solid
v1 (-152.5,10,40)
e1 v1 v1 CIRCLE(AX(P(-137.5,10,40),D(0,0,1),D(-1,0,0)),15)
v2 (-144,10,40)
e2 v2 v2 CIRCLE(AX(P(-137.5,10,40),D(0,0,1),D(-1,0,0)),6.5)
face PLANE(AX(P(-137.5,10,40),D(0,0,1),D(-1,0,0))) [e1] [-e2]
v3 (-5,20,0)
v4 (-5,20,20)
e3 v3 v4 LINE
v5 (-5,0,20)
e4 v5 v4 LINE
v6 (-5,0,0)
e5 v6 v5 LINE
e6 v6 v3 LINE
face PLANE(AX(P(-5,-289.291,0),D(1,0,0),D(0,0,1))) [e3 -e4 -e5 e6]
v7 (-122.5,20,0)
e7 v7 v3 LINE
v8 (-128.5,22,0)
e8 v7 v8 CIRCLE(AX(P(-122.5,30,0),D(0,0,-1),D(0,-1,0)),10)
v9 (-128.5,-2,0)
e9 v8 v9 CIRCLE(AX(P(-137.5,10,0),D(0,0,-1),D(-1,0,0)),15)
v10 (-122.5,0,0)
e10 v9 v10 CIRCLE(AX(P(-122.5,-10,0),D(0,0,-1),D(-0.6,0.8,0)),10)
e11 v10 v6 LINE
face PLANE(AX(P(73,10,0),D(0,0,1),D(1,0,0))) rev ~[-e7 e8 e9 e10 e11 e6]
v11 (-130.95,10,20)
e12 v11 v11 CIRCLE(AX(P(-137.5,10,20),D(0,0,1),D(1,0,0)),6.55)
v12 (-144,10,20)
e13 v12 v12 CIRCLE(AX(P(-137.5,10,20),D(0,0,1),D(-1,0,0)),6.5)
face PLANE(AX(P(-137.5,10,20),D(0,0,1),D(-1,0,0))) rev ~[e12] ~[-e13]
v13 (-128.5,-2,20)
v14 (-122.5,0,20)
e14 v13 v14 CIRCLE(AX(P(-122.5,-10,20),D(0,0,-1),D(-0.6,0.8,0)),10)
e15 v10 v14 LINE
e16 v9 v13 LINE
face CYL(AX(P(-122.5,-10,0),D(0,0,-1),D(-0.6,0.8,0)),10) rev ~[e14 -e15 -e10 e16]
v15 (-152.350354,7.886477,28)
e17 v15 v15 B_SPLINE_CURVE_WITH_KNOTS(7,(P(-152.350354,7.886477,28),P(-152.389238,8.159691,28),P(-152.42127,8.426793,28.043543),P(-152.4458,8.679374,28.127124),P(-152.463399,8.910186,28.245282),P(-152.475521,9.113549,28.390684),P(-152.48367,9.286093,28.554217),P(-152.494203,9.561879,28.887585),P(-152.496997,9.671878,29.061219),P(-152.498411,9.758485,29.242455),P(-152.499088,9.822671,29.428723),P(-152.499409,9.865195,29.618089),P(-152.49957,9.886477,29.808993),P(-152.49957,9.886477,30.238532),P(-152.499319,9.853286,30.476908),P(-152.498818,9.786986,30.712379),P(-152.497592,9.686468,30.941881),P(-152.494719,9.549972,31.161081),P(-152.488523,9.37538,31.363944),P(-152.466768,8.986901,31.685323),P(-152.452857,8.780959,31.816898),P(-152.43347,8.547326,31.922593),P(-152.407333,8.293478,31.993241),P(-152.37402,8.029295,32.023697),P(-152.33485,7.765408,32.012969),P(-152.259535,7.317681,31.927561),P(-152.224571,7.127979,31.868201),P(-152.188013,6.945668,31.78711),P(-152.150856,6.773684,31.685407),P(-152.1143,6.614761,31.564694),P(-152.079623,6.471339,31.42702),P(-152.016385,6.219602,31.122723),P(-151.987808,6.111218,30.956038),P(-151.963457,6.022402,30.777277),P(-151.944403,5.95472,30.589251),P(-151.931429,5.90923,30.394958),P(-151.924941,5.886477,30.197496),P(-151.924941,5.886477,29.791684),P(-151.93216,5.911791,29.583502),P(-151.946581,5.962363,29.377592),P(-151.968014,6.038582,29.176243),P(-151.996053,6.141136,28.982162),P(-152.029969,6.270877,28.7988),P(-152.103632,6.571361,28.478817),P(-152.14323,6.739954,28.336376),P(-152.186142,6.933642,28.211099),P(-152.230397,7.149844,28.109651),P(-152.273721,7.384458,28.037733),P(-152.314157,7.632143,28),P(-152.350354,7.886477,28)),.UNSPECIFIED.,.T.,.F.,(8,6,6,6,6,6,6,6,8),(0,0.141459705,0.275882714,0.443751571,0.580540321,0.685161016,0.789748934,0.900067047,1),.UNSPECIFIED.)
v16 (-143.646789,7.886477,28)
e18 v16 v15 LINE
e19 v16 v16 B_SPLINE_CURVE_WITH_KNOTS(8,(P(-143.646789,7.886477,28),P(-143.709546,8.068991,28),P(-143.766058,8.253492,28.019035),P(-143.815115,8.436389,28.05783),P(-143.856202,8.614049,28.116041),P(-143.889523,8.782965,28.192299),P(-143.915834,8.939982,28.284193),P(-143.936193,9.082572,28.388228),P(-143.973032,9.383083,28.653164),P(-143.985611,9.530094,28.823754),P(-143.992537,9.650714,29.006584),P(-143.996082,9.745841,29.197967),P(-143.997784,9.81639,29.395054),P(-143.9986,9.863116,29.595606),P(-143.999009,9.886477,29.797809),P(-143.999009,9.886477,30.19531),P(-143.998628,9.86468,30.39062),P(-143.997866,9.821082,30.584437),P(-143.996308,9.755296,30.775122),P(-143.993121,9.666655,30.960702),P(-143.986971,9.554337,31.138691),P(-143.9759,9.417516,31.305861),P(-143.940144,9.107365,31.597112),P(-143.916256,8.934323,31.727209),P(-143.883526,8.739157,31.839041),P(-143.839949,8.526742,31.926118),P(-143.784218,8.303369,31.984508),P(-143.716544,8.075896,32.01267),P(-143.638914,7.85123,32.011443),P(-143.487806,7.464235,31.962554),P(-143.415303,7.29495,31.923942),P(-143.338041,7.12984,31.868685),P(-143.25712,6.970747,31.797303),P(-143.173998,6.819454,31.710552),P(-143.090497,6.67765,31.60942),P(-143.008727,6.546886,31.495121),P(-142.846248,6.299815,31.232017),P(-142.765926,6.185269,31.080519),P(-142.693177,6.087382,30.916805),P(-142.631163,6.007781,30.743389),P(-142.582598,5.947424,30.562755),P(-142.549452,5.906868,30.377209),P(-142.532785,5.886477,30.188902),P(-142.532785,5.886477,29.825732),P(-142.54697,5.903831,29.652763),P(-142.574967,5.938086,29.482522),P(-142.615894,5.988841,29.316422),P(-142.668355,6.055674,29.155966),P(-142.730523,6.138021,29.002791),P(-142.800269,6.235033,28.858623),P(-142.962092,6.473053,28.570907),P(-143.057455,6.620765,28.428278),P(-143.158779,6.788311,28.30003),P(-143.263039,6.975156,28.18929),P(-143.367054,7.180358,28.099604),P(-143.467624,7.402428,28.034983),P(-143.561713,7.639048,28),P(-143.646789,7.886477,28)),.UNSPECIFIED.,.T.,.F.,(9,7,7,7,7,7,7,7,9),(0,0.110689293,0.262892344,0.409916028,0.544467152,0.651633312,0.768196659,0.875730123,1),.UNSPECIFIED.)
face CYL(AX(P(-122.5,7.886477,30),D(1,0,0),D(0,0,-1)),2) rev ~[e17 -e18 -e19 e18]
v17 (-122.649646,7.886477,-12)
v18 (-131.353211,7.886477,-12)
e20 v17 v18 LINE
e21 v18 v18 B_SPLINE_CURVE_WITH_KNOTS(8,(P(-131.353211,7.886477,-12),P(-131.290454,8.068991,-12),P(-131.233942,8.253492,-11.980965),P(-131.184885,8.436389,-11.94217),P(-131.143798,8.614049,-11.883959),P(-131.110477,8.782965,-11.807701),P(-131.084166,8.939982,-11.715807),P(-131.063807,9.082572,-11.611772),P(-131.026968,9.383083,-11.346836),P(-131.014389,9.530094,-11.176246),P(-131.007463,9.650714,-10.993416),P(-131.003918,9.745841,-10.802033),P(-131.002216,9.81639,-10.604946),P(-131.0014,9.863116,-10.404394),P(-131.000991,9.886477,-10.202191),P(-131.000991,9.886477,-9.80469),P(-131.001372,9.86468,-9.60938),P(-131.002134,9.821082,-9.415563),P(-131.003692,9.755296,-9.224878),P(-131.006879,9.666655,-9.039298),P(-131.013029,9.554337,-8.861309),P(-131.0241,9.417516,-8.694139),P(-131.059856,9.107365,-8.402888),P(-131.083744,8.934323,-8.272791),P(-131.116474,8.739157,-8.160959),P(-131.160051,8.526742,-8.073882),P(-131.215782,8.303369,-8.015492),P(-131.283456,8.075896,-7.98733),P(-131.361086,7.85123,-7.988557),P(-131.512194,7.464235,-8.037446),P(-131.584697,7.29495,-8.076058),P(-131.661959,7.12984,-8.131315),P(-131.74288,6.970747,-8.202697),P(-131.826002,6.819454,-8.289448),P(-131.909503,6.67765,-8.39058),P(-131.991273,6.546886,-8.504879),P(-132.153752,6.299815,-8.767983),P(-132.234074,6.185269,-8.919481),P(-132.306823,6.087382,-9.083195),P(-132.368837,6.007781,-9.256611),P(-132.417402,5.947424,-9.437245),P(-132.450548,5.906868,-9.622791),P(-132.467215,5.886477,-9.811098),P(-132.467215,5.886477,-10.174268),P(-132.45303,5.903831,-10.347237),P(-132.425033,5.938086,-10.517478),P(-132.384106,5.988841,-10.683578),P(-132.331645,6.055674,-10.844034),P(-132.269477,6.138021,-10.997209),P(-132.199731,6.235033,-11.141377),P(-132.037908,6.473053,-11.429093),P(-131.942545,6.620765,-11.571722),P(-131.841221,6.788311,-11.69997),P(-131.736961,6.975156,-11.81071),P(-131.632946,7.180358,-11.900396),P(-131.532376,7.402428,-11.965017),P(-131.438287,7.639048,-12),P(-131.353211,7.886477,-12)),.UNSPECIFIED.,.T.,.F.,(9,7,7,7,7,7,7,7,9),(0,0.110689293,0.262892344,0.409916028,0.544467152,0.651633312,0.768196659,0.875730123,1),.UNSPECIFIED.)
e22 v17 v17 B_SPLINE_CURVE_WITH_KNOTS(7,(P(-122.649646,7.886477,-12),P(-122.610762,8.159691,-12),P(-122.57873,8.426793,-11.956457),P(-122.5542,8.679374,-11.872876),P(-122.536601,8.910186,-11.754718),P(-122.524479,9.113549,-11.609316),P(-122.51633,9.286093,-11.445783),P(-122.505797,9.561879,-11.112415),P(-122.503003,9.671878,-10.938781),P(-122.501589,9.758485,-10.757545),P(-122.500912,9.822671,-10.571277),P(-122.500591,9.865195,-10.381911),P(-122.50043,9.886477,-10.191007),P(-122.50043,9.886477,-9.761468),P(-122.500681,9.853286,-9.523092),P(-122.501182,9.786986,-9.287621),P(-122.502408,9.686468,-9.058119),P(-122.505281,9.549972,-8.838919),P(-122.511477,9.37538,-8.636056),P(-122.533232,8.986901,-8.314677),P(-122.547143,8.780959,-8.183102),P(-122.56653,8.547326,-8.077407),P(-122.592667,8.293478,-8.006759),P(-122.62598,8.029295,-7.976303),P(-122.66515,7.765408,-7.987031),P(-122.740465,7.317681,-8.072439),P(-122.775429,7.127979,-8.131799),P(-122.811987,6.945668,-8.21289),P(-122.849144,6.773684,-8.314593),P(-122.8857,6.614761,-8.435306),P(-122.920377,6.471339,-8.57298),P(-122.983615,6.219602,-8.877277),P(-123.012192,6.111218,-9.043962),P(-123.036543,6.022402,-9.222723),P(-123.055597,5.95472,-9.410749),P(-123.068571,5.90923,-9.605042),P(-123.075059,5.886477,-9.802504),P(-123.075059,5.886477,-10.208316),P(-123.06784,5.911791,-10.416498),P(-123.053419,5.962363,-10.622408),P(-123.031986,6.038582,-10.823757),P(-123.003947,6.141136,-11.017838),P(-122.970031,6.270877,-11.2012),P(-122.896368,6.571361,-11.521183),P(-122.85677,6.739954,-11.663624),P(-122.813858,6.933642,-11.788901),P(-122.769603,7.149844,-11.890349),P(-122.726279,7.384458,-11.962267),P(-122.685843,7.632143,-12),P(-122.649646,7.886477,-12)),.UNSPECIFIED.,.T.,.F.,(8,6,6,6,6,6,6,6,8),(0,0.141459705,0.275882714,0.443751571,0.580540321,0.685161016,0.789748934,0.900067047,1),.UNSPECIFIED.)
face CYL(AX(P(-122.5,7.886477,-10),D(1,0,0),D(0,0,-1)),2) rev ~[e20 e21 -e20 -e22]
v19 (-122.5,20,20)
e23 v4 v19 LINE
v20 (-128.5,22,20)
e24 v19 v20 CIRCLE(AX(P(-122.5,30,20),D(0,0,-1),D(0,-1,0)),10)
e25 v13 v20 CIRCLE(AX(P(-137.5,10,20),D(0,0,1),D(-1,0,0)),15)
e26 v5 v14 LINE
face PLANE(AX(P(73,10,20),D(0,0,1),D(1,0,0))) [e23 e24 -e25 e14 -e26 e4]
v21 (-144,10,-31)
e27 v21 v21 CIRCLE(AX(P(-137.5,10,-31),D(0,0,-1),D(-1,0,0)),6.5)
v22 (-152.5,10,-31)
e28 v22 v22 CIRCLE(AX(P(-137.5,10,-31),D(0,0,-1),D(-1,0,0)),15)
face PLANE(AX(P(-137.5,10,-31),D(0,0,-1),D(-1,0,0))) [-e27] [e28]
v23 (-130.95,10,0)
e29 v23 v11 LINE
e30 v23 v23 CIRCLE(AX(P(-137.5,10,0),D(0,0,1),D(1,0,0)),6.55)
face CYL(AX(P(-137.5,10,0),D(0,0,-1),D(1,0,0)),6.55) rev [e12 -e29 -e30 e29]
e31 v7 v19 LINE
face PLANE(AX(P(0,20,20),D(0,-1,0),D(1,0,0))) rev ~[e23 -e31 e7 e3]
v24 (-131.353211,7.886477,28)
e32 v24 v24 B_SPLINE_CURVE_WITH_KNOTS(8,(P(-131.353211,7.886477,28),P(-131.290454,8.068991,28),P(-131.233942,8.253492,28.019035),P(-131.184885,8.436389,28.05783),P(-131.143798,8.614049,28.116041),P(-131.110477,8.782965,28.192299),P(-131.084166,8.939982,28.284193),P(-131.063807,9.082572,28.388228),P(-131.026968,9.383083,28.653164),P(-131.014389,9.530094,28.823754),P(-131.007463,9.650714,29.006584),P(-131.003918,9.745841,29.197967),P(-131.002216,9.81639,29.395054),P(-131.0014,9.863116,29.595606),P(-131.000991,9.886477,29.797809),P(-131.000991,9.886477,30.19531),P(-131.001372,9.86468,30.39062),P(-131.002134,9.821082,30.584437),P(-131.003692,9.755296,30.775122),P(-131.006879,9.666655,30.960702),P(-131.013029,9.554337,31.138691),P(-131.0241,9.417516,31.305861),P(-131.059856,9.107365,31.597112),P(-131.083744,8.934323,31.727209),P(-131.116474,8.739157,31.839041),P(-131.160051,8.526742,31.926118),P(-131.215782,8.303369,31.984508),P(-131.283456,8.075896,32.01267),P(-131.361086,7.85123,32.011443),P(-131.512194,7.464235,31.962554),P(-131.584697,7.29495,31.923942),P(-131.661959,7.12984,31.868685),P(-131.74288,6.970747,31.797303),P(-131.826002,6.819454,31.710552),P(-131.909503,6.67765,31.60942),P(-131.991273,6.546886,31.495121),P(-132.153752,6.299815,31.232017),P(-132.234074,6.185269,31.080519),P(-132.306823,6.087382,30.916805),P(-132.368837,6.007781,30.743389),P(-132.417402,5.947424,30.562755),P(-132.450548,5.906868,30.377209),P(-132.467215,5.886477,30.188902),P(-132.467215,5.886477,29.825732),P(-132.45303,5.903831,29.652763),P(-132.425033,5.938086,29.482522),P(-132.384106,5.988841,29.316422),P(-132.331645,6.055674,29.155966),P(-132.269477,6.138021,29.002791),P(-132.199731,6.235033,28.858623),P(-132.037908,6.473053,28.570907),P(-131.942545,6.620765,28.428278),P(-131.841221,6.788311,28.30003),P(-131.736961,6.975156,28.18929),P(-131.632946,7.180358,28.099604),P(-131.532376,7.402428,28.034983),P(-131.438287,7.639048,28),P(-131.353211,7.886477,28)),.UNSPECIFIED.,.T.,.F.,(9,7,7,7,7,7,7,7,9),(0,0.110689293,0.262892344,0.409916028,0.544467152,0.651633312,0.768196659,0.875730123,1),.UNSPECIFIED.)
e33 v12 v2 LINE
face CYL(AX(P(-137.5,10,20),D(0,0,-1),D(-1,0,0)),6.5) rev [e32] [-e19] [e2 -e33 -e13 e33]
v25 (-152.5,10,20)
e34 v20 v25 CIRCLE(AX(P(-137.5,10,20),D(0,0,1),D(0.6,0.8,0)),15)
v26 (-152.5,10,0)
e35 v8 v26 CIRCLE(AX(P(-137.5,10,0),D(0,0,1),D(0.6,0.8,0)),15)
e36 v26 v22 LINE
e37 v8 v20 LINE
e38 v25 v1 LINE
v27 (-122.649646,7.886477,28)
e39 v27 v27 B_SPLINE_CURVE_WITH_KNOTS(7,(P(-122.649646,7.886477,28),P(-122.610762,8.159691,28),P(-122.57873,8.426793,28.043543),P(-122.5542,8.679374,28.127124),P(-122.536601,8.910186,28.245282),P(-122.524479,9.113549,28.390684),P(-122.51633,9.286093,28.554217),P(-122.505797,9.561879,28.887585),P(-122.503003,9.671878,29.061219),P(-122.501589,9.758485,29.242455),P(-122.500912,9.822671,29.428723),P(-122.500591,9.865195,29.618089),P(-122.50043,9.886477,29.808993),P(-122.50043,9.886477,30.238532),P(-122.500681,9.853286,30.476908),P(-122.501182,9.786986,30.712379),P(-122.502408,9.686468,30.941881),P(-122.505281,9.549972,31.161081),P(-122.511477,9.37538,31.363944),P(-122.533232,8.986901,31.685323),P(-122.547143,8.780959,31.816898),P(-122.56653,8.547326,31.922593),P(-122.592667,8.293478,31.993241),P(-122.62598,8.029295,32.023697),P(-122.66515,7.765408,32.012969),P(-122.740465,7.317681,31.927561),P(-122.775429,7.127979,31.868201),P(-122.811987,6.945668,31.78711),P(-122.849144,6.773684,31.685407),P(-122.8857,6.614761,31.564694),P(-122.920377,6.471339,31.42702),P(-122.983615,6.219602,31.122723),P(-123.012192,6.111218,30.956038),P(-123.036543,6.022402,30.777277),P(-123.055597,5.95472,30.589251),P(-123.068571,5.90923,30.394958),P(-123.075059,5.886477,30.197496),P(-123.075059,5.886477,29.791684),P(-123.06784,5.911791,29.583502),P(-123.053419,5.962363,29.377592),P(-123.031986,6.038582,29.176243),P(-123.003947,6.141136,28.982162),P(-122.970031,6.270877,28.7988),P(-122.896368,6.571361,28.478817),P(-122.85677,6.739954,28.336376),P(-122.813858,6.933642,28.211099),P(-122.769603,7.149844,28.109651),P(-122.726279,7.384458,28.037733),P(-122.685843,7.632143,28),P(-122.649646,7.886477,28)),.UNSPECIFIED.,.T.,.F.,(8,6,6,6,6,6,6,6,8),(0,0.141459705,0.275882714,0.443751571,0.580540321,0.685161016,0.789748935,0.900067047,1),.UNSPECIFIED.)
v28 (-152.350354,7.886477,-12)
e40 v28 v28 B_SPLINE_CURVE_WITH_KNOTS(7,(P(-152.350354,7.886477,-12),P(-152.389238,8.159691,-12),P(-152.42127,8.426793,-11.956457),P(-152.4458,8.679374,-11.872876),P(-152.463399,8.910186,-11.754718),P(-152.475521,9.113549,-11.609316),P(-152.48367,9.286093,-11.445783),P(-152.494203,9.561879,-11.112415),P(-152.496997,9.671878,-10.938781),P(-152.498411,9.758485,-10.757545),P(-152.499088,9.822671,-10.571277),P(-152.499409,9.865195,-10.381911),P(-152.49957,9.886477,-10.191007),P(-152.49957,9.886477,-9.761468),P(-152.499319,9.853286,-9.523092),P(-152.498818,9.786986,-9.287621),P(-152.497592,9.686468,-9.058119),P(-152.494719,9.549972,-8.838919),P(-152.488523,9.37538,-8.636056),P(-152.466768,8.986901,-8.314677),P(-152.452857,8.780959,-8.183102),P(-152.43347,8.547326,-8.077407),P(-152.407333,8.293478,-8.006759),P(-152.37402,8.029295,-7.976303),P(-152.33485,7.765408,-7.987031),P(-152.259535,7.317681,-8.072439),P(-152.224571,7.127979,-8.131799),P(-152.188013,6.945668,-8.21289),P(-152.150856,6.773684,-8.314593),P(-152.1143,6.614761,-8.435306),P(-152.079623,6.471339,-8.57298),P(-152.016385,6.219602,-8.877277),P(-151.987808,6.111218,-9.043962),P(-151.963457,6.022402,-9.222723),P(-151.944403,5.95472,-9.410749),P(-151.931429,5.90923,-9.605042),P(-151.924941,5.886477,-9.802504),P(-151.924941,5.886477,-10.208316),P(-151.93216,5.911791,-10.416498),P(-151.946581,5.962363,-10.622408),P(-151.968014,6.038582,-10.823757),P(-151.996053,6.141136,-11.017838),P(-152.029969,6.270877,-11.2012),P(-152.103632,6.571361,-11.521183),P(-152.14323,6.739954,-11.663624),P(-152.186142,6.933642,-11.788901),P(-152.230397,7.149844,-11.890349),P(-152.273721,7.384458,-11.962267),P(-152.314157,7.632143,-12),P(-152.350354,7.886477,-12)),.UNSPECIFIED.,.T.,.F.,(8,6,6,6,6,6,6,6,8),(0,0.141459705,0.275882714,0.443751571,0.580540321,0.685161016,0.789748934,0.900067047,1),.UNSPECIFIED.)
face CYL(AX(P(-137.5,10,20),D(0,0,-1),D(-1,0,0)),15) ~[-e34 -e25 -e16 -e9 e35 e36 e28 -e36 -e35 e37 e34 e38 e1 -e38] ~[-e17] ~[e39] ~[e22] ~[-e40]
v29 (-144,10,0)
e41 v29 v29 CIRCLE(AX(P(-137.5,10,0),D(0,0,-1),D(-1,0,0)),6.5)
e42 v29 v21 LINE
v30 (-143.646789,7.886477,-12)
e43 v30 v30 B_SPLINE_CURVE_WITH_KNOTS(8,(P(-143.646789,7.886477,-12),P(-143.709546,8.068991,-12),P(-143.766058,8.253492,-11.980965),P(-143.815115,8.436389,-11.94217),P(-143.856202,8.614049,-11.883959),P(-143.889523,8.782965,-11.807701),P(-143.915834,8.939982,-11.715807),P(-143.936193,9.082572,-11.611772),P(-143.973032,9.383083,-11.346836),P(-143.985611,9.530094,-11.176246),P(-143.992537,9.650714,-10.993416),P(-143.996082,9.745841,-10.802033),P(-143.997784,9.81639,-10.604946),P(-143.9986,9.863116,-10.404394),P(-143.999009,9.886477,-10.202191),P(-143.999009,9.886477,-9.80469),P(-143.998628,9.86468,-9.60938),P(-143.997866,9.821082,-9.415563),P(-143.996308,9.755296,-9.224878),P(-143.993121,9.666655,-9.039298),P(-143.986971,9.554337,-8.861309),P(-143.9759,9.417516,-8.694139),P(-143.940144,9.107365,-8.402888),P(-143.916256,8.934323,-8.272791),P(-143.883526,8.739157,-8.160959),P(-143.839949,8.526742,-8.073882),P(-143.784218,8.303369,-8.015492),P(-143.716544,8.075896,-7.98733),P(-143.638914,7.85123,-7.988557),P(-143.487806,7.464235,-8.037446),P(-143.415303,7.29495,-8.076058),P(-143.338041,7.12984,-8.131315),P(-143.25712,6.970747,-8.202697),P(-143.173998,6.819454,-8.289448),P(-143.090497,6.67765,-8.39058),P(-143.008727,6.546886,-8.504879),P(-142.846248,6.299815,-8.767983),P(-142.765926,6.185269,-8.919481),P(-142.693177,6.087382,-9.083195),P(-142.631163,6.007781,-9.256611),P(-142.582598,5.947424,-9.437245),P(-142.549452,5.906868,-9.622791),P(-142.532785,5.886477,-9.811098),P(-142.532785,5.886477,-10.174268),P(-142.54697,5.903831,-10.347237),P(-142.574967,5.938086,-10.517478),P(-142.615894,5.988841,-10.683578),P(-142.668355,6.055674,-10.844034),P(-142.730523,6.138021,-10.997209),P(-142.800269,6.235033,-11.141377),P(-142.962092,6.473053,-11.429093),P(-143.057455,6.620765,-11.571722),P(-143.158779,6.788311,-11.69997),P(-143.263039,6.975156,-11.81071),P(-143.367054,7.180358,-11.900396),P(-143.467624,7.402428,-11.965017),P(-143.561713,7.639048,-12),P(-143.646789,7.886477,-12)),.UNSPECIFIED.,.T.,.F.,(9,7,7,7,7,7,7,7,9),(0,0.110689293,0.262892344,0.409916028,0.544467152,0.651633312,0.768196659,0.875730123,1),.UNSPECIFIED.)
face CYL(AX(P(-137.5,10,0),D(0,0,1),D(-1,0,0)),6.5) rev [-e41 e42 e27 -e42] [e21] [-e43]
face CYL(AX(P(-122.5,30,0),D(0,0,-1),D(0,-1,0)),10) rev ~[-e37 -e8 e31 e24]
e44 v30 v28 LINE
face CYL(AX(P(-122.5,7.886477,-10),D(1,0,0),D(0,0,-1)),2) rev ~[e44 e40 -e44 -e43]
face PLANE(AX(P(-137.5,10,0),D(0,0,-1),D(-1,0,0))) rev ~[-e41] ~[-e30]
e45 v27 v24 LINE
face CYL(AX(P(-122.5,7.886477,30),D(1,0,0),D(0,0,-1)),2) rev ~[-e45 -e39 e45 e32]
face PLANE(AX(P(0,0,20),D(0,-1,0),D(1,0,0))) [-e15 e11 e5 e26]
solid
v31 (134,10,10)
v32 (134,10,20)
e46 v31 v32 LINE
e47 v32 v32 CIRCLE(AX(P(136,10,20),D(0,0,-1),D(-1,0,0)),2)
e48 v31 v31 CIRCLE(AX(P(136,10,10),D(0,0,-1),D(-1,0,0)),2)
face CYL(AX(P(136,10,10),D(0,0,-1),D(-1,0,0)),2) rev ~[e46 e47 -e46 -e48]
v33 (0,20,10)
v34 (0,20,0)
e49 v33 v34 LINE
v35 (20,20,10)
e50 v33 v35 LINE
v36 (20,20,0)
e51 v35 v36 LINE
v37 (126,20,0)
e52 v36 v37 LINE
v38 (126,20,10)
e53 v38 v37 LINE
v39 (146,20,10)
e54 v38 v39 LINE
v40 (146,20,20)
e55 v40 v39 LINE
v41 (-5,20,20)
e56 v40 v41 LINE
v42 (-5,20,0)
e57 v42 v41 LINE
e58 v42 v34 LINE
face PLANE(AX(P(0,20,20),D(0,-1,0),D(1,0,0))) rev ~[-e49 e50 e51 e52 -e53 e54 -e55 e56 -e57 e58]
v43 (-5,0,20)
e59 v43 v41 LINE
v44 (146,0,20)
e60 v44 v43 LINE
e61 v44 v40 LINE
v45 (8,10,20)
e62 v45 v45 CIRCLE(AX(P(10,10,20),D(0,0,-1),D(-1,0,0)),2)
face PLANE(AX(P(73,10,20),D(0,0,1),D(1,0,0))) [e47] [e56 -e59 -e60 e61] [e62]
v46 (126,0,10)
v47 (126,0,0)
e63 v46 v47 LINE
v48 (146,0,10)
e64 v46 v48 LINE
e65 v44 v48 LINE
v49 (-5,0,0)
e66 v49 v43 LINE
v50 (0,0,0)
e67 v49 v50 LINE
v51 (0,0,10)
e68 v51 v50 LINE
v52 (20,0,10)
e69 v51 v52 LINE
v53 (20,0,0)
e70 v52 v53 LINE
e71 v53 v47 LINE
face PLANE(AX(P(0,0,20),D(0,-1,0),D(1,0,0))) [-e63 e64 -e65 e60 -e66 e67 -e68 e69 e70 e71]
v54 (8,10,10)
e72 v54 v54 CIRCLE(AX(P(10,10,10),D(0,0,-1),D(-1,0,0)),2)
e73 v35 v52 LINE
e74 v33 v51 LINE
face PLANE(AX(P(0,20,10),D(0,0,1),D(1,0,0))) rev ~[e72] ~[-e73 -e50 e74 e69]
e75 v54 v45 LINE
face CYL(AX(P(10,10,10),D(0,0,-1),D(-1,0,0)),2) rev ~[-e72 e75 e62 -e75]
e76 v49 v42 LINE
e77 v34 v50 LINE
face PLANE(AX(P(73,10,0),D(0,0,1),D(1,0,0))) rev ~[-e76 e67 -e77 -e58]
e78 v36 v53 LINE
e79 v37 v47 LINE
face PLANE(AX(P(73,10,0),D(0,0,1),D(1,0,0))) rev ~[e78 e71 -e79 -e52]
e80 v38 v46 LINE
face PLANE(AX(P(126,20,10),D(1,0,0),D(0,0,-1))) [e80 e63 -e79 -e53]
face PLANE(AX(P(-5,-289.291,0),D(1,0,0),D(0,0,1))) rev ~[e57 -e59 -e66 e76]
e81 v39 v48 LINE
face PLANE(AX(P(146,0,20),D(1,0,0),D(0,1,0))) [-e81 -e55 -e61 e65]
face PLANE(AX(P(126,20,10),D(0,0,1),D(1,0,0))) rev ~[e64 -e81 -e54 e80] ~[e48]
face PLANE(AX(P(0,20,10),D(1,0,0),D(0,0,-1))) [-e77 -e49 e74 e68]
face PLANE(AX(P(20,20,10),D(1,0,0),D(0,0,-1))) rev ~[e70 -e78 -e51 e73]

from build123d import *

# Parameters (mm, degrees)
SKETCH1_R              = 6.55
BOSS_EXTRUDE1_DEPTH    = 20
SKETCH2_R              = 15
SKETCH2_R_2            = 6.5
BOSS_EXTRUDE2_DEPTH    = 31
SKETCH3_R              = 15
SKETCH3_R_2            = 6.5
BOSS_EXTRUDE3_DEPTH    = 20
SKETCH4_W              = 146
SKETCH4_H              = 20
BOSS_EXTRUDE4_DEPTH    = 20
SKETCH7_W              = 20
SKETCH7_H              = 10
CUT_EXTRUDE1_DEPTH     = 20
SKETCH8_R              = 2
CUT_EXTRUDE2_DEPTH     = 10
SKETCH9_R              = 2
CUT_EXTRUDE3_DEPTH     = 273.611903629
SPLIT1_SURFACE_1_BACK  = 309.291
SPLIT1_SURFACE_1_DEPTH = 618.582
SPLIT1_SURFACE_2_BACK  = 309.291
SPLIT1_SURFACE_2_DEPTH = 618.582


with BuildPart() as part:
    # Sketch1 → Boss-Extrude1 (new body)
    with BuildSketch(Plane.XY):
        with BuildLine():
            Line((0, 0), (0, 20))
            Line((0, 20), (-122.5, 20))
            ThreePointArc((-122.5, 20), (-125.66227766, 20.513167019), (-128.5, 22))
            ThreePointArc((-128.5, 22), (-152.5, 10), (-128.5, -2))
            ThreePointArc((-128.5, -2), (-125.66227766, -0.513167019), (-122.5, 0))
            Line((-122.5, 0), (0, 0))
        make_face()
        with Locations((-137.5, 10)):
            Circle(SKETCH1_R, mode=Mode.SUBTRACT)
    extrude(amount=BOSS_EXTRUDE1_DEPTH)

    # Sketch2 → Boss-Extrude2 (add)
    with BuildSketch(Plane(origin=(0, 0, 0), x_dir=(-1, 0, 0), z_dir=(0, 0, -1))):
        with Locations((137.5, 10)):
            Circle(SKETCH2_R)
        with Locations((137.5, 10)):
            Circle(SKETCH2_R_2, mode=Mode.SUBTRACT)
    extrude(amount=BOSS_EXTRUDE2_DEPTH)

    # Sketch3 → Boss-Extrude3 (add)
    with BuildSketch(Plane.XY.offset(20)):
        with Locations(Location((-137.5, 10, 0), (0, 0, 180))):
            Circle(SKETCH3_R)
        with Locations(Location((-137.5, 10, 0), (0, 0, 180))):
            Circle(SKETCH3_R_2, mode=Mode.SUBTRACT)
    extrude(amount=BOSS_EXTRUDE3_DEPTH)

    # Sketch4 → Boss-Extrude4 (add)
    with BuildSketch(Plane.XY.offset(20)):
        with Locations((73, 10)):
            Rectangle(SKETCH4_W, SKETCH4_H)
    extrude(amount=-BOSS_EXTRUDE4_DEPTH)

    # Sketch7 → Cut-Extrude1 (cut)
    with BuildSketch(Plane(origin=(0, 20, 0), x_dir=(1, 0, 0), z_dir=(0, 1, 0))):
        with Locations((136, -5)):
            Rectangle(SKETCH7_W, SKETCH7_H)
        with Locations((10, -5)):
            Rectangle(SKETCH7_W, SKETCH7_H)
    extrude(amount=-CUT_EXTRUDE1_DEPTH, mode=Mode.SUBTRACT)

    # Sketch8 → Cut-Extrude2 (cut)
    with BuildSketch(Plane(origin=(0, 0, 10), x_dir=(-1, 0, 0), z_dir=(0, 0, -1))):
        with Locations((-136, 10)):
            Circle(SKETCH8_R)
        with Locations((-10, 10)):
            Circle(SKETCH8_R)
    extrude(amount=-CUT_EXTRUDE2_DEPTH, mode=Mode.SUBTRACT)

    # Sketch9 → Cut-Extrude3 (cut, through all)
    with BuildSketch(Plane(origin=(-122.5, 0, 0), x_dir=(0, 0, -1), z_dir=(1, 0, 0))):
        with Locations((-30, 7.88647696)):
            Circle(SKETCH9_R)
        with Locations((10, 7.88647696)):
            Circle(SKETCH9_R)
    extrude(amount=-CUT_EXTRUDE3_DEPTH, mode=Mode.SUBTRACT)


with BuildPart() as body_2:
    # Split1: the piece behind the surface
    add(part.part)
    # Split1 surface: a surface, the sketch's curves swept straight by 618.582 mm
    with BuildLine(Plane(origin=(0, 20, 0), x_dir=(1, 0, 0), z_dir=(0, 1, 0)).offset(-SPLIT1_SURFACE_1_BACK), mode=Mode.PRIVATE) as split1_surface_1_path:
        Line((-5, 0), (-5, -20))
    split1_surface_1 = Shell.extrude(split1_surface_1_path.wire(), (0 * SPLIT1_SURFACE_1_DEPTH, 1 * SPLIT1_SURFACE_1_DEPTH, 0 * SPLIT1_SURFACE_1_DEPTH))
    split(bisect_by=split1_surface_1, keep=Keep.BOTTOM)


with BuildPart() as part_1:
    add(part.part)

    # Split1: split by a surface, the side it looks to stays
    # Split1 surface: a surface, the sketch's curves swept straight by 618.582 mm
    with BuildLine(Plane(origin=(0, 20, 0), x_dir=(1, 0, 0), z_dir=(0, 1, 0)).offset(-SPLIT1_SURFACE_2_BACK), mode=Mode.PRIVATE) as split1_surface_2_path:
        Line((-5, 0), (-5, -20))
    split1_surface_2 = Shell.extrude(split1_surface_2_path.wire(), (0 * SPLIT1_SURFACE_2_DEPTH, 1 * SPLIT1_SURFACE_2_DEPTH, 0 * SPLIT1_SURFACE_2_DEPTH))
    split(bisect_by=split1_surface_2, keep=Keep.TOP)


solid = Compound([body_2.part, part_1.part])
